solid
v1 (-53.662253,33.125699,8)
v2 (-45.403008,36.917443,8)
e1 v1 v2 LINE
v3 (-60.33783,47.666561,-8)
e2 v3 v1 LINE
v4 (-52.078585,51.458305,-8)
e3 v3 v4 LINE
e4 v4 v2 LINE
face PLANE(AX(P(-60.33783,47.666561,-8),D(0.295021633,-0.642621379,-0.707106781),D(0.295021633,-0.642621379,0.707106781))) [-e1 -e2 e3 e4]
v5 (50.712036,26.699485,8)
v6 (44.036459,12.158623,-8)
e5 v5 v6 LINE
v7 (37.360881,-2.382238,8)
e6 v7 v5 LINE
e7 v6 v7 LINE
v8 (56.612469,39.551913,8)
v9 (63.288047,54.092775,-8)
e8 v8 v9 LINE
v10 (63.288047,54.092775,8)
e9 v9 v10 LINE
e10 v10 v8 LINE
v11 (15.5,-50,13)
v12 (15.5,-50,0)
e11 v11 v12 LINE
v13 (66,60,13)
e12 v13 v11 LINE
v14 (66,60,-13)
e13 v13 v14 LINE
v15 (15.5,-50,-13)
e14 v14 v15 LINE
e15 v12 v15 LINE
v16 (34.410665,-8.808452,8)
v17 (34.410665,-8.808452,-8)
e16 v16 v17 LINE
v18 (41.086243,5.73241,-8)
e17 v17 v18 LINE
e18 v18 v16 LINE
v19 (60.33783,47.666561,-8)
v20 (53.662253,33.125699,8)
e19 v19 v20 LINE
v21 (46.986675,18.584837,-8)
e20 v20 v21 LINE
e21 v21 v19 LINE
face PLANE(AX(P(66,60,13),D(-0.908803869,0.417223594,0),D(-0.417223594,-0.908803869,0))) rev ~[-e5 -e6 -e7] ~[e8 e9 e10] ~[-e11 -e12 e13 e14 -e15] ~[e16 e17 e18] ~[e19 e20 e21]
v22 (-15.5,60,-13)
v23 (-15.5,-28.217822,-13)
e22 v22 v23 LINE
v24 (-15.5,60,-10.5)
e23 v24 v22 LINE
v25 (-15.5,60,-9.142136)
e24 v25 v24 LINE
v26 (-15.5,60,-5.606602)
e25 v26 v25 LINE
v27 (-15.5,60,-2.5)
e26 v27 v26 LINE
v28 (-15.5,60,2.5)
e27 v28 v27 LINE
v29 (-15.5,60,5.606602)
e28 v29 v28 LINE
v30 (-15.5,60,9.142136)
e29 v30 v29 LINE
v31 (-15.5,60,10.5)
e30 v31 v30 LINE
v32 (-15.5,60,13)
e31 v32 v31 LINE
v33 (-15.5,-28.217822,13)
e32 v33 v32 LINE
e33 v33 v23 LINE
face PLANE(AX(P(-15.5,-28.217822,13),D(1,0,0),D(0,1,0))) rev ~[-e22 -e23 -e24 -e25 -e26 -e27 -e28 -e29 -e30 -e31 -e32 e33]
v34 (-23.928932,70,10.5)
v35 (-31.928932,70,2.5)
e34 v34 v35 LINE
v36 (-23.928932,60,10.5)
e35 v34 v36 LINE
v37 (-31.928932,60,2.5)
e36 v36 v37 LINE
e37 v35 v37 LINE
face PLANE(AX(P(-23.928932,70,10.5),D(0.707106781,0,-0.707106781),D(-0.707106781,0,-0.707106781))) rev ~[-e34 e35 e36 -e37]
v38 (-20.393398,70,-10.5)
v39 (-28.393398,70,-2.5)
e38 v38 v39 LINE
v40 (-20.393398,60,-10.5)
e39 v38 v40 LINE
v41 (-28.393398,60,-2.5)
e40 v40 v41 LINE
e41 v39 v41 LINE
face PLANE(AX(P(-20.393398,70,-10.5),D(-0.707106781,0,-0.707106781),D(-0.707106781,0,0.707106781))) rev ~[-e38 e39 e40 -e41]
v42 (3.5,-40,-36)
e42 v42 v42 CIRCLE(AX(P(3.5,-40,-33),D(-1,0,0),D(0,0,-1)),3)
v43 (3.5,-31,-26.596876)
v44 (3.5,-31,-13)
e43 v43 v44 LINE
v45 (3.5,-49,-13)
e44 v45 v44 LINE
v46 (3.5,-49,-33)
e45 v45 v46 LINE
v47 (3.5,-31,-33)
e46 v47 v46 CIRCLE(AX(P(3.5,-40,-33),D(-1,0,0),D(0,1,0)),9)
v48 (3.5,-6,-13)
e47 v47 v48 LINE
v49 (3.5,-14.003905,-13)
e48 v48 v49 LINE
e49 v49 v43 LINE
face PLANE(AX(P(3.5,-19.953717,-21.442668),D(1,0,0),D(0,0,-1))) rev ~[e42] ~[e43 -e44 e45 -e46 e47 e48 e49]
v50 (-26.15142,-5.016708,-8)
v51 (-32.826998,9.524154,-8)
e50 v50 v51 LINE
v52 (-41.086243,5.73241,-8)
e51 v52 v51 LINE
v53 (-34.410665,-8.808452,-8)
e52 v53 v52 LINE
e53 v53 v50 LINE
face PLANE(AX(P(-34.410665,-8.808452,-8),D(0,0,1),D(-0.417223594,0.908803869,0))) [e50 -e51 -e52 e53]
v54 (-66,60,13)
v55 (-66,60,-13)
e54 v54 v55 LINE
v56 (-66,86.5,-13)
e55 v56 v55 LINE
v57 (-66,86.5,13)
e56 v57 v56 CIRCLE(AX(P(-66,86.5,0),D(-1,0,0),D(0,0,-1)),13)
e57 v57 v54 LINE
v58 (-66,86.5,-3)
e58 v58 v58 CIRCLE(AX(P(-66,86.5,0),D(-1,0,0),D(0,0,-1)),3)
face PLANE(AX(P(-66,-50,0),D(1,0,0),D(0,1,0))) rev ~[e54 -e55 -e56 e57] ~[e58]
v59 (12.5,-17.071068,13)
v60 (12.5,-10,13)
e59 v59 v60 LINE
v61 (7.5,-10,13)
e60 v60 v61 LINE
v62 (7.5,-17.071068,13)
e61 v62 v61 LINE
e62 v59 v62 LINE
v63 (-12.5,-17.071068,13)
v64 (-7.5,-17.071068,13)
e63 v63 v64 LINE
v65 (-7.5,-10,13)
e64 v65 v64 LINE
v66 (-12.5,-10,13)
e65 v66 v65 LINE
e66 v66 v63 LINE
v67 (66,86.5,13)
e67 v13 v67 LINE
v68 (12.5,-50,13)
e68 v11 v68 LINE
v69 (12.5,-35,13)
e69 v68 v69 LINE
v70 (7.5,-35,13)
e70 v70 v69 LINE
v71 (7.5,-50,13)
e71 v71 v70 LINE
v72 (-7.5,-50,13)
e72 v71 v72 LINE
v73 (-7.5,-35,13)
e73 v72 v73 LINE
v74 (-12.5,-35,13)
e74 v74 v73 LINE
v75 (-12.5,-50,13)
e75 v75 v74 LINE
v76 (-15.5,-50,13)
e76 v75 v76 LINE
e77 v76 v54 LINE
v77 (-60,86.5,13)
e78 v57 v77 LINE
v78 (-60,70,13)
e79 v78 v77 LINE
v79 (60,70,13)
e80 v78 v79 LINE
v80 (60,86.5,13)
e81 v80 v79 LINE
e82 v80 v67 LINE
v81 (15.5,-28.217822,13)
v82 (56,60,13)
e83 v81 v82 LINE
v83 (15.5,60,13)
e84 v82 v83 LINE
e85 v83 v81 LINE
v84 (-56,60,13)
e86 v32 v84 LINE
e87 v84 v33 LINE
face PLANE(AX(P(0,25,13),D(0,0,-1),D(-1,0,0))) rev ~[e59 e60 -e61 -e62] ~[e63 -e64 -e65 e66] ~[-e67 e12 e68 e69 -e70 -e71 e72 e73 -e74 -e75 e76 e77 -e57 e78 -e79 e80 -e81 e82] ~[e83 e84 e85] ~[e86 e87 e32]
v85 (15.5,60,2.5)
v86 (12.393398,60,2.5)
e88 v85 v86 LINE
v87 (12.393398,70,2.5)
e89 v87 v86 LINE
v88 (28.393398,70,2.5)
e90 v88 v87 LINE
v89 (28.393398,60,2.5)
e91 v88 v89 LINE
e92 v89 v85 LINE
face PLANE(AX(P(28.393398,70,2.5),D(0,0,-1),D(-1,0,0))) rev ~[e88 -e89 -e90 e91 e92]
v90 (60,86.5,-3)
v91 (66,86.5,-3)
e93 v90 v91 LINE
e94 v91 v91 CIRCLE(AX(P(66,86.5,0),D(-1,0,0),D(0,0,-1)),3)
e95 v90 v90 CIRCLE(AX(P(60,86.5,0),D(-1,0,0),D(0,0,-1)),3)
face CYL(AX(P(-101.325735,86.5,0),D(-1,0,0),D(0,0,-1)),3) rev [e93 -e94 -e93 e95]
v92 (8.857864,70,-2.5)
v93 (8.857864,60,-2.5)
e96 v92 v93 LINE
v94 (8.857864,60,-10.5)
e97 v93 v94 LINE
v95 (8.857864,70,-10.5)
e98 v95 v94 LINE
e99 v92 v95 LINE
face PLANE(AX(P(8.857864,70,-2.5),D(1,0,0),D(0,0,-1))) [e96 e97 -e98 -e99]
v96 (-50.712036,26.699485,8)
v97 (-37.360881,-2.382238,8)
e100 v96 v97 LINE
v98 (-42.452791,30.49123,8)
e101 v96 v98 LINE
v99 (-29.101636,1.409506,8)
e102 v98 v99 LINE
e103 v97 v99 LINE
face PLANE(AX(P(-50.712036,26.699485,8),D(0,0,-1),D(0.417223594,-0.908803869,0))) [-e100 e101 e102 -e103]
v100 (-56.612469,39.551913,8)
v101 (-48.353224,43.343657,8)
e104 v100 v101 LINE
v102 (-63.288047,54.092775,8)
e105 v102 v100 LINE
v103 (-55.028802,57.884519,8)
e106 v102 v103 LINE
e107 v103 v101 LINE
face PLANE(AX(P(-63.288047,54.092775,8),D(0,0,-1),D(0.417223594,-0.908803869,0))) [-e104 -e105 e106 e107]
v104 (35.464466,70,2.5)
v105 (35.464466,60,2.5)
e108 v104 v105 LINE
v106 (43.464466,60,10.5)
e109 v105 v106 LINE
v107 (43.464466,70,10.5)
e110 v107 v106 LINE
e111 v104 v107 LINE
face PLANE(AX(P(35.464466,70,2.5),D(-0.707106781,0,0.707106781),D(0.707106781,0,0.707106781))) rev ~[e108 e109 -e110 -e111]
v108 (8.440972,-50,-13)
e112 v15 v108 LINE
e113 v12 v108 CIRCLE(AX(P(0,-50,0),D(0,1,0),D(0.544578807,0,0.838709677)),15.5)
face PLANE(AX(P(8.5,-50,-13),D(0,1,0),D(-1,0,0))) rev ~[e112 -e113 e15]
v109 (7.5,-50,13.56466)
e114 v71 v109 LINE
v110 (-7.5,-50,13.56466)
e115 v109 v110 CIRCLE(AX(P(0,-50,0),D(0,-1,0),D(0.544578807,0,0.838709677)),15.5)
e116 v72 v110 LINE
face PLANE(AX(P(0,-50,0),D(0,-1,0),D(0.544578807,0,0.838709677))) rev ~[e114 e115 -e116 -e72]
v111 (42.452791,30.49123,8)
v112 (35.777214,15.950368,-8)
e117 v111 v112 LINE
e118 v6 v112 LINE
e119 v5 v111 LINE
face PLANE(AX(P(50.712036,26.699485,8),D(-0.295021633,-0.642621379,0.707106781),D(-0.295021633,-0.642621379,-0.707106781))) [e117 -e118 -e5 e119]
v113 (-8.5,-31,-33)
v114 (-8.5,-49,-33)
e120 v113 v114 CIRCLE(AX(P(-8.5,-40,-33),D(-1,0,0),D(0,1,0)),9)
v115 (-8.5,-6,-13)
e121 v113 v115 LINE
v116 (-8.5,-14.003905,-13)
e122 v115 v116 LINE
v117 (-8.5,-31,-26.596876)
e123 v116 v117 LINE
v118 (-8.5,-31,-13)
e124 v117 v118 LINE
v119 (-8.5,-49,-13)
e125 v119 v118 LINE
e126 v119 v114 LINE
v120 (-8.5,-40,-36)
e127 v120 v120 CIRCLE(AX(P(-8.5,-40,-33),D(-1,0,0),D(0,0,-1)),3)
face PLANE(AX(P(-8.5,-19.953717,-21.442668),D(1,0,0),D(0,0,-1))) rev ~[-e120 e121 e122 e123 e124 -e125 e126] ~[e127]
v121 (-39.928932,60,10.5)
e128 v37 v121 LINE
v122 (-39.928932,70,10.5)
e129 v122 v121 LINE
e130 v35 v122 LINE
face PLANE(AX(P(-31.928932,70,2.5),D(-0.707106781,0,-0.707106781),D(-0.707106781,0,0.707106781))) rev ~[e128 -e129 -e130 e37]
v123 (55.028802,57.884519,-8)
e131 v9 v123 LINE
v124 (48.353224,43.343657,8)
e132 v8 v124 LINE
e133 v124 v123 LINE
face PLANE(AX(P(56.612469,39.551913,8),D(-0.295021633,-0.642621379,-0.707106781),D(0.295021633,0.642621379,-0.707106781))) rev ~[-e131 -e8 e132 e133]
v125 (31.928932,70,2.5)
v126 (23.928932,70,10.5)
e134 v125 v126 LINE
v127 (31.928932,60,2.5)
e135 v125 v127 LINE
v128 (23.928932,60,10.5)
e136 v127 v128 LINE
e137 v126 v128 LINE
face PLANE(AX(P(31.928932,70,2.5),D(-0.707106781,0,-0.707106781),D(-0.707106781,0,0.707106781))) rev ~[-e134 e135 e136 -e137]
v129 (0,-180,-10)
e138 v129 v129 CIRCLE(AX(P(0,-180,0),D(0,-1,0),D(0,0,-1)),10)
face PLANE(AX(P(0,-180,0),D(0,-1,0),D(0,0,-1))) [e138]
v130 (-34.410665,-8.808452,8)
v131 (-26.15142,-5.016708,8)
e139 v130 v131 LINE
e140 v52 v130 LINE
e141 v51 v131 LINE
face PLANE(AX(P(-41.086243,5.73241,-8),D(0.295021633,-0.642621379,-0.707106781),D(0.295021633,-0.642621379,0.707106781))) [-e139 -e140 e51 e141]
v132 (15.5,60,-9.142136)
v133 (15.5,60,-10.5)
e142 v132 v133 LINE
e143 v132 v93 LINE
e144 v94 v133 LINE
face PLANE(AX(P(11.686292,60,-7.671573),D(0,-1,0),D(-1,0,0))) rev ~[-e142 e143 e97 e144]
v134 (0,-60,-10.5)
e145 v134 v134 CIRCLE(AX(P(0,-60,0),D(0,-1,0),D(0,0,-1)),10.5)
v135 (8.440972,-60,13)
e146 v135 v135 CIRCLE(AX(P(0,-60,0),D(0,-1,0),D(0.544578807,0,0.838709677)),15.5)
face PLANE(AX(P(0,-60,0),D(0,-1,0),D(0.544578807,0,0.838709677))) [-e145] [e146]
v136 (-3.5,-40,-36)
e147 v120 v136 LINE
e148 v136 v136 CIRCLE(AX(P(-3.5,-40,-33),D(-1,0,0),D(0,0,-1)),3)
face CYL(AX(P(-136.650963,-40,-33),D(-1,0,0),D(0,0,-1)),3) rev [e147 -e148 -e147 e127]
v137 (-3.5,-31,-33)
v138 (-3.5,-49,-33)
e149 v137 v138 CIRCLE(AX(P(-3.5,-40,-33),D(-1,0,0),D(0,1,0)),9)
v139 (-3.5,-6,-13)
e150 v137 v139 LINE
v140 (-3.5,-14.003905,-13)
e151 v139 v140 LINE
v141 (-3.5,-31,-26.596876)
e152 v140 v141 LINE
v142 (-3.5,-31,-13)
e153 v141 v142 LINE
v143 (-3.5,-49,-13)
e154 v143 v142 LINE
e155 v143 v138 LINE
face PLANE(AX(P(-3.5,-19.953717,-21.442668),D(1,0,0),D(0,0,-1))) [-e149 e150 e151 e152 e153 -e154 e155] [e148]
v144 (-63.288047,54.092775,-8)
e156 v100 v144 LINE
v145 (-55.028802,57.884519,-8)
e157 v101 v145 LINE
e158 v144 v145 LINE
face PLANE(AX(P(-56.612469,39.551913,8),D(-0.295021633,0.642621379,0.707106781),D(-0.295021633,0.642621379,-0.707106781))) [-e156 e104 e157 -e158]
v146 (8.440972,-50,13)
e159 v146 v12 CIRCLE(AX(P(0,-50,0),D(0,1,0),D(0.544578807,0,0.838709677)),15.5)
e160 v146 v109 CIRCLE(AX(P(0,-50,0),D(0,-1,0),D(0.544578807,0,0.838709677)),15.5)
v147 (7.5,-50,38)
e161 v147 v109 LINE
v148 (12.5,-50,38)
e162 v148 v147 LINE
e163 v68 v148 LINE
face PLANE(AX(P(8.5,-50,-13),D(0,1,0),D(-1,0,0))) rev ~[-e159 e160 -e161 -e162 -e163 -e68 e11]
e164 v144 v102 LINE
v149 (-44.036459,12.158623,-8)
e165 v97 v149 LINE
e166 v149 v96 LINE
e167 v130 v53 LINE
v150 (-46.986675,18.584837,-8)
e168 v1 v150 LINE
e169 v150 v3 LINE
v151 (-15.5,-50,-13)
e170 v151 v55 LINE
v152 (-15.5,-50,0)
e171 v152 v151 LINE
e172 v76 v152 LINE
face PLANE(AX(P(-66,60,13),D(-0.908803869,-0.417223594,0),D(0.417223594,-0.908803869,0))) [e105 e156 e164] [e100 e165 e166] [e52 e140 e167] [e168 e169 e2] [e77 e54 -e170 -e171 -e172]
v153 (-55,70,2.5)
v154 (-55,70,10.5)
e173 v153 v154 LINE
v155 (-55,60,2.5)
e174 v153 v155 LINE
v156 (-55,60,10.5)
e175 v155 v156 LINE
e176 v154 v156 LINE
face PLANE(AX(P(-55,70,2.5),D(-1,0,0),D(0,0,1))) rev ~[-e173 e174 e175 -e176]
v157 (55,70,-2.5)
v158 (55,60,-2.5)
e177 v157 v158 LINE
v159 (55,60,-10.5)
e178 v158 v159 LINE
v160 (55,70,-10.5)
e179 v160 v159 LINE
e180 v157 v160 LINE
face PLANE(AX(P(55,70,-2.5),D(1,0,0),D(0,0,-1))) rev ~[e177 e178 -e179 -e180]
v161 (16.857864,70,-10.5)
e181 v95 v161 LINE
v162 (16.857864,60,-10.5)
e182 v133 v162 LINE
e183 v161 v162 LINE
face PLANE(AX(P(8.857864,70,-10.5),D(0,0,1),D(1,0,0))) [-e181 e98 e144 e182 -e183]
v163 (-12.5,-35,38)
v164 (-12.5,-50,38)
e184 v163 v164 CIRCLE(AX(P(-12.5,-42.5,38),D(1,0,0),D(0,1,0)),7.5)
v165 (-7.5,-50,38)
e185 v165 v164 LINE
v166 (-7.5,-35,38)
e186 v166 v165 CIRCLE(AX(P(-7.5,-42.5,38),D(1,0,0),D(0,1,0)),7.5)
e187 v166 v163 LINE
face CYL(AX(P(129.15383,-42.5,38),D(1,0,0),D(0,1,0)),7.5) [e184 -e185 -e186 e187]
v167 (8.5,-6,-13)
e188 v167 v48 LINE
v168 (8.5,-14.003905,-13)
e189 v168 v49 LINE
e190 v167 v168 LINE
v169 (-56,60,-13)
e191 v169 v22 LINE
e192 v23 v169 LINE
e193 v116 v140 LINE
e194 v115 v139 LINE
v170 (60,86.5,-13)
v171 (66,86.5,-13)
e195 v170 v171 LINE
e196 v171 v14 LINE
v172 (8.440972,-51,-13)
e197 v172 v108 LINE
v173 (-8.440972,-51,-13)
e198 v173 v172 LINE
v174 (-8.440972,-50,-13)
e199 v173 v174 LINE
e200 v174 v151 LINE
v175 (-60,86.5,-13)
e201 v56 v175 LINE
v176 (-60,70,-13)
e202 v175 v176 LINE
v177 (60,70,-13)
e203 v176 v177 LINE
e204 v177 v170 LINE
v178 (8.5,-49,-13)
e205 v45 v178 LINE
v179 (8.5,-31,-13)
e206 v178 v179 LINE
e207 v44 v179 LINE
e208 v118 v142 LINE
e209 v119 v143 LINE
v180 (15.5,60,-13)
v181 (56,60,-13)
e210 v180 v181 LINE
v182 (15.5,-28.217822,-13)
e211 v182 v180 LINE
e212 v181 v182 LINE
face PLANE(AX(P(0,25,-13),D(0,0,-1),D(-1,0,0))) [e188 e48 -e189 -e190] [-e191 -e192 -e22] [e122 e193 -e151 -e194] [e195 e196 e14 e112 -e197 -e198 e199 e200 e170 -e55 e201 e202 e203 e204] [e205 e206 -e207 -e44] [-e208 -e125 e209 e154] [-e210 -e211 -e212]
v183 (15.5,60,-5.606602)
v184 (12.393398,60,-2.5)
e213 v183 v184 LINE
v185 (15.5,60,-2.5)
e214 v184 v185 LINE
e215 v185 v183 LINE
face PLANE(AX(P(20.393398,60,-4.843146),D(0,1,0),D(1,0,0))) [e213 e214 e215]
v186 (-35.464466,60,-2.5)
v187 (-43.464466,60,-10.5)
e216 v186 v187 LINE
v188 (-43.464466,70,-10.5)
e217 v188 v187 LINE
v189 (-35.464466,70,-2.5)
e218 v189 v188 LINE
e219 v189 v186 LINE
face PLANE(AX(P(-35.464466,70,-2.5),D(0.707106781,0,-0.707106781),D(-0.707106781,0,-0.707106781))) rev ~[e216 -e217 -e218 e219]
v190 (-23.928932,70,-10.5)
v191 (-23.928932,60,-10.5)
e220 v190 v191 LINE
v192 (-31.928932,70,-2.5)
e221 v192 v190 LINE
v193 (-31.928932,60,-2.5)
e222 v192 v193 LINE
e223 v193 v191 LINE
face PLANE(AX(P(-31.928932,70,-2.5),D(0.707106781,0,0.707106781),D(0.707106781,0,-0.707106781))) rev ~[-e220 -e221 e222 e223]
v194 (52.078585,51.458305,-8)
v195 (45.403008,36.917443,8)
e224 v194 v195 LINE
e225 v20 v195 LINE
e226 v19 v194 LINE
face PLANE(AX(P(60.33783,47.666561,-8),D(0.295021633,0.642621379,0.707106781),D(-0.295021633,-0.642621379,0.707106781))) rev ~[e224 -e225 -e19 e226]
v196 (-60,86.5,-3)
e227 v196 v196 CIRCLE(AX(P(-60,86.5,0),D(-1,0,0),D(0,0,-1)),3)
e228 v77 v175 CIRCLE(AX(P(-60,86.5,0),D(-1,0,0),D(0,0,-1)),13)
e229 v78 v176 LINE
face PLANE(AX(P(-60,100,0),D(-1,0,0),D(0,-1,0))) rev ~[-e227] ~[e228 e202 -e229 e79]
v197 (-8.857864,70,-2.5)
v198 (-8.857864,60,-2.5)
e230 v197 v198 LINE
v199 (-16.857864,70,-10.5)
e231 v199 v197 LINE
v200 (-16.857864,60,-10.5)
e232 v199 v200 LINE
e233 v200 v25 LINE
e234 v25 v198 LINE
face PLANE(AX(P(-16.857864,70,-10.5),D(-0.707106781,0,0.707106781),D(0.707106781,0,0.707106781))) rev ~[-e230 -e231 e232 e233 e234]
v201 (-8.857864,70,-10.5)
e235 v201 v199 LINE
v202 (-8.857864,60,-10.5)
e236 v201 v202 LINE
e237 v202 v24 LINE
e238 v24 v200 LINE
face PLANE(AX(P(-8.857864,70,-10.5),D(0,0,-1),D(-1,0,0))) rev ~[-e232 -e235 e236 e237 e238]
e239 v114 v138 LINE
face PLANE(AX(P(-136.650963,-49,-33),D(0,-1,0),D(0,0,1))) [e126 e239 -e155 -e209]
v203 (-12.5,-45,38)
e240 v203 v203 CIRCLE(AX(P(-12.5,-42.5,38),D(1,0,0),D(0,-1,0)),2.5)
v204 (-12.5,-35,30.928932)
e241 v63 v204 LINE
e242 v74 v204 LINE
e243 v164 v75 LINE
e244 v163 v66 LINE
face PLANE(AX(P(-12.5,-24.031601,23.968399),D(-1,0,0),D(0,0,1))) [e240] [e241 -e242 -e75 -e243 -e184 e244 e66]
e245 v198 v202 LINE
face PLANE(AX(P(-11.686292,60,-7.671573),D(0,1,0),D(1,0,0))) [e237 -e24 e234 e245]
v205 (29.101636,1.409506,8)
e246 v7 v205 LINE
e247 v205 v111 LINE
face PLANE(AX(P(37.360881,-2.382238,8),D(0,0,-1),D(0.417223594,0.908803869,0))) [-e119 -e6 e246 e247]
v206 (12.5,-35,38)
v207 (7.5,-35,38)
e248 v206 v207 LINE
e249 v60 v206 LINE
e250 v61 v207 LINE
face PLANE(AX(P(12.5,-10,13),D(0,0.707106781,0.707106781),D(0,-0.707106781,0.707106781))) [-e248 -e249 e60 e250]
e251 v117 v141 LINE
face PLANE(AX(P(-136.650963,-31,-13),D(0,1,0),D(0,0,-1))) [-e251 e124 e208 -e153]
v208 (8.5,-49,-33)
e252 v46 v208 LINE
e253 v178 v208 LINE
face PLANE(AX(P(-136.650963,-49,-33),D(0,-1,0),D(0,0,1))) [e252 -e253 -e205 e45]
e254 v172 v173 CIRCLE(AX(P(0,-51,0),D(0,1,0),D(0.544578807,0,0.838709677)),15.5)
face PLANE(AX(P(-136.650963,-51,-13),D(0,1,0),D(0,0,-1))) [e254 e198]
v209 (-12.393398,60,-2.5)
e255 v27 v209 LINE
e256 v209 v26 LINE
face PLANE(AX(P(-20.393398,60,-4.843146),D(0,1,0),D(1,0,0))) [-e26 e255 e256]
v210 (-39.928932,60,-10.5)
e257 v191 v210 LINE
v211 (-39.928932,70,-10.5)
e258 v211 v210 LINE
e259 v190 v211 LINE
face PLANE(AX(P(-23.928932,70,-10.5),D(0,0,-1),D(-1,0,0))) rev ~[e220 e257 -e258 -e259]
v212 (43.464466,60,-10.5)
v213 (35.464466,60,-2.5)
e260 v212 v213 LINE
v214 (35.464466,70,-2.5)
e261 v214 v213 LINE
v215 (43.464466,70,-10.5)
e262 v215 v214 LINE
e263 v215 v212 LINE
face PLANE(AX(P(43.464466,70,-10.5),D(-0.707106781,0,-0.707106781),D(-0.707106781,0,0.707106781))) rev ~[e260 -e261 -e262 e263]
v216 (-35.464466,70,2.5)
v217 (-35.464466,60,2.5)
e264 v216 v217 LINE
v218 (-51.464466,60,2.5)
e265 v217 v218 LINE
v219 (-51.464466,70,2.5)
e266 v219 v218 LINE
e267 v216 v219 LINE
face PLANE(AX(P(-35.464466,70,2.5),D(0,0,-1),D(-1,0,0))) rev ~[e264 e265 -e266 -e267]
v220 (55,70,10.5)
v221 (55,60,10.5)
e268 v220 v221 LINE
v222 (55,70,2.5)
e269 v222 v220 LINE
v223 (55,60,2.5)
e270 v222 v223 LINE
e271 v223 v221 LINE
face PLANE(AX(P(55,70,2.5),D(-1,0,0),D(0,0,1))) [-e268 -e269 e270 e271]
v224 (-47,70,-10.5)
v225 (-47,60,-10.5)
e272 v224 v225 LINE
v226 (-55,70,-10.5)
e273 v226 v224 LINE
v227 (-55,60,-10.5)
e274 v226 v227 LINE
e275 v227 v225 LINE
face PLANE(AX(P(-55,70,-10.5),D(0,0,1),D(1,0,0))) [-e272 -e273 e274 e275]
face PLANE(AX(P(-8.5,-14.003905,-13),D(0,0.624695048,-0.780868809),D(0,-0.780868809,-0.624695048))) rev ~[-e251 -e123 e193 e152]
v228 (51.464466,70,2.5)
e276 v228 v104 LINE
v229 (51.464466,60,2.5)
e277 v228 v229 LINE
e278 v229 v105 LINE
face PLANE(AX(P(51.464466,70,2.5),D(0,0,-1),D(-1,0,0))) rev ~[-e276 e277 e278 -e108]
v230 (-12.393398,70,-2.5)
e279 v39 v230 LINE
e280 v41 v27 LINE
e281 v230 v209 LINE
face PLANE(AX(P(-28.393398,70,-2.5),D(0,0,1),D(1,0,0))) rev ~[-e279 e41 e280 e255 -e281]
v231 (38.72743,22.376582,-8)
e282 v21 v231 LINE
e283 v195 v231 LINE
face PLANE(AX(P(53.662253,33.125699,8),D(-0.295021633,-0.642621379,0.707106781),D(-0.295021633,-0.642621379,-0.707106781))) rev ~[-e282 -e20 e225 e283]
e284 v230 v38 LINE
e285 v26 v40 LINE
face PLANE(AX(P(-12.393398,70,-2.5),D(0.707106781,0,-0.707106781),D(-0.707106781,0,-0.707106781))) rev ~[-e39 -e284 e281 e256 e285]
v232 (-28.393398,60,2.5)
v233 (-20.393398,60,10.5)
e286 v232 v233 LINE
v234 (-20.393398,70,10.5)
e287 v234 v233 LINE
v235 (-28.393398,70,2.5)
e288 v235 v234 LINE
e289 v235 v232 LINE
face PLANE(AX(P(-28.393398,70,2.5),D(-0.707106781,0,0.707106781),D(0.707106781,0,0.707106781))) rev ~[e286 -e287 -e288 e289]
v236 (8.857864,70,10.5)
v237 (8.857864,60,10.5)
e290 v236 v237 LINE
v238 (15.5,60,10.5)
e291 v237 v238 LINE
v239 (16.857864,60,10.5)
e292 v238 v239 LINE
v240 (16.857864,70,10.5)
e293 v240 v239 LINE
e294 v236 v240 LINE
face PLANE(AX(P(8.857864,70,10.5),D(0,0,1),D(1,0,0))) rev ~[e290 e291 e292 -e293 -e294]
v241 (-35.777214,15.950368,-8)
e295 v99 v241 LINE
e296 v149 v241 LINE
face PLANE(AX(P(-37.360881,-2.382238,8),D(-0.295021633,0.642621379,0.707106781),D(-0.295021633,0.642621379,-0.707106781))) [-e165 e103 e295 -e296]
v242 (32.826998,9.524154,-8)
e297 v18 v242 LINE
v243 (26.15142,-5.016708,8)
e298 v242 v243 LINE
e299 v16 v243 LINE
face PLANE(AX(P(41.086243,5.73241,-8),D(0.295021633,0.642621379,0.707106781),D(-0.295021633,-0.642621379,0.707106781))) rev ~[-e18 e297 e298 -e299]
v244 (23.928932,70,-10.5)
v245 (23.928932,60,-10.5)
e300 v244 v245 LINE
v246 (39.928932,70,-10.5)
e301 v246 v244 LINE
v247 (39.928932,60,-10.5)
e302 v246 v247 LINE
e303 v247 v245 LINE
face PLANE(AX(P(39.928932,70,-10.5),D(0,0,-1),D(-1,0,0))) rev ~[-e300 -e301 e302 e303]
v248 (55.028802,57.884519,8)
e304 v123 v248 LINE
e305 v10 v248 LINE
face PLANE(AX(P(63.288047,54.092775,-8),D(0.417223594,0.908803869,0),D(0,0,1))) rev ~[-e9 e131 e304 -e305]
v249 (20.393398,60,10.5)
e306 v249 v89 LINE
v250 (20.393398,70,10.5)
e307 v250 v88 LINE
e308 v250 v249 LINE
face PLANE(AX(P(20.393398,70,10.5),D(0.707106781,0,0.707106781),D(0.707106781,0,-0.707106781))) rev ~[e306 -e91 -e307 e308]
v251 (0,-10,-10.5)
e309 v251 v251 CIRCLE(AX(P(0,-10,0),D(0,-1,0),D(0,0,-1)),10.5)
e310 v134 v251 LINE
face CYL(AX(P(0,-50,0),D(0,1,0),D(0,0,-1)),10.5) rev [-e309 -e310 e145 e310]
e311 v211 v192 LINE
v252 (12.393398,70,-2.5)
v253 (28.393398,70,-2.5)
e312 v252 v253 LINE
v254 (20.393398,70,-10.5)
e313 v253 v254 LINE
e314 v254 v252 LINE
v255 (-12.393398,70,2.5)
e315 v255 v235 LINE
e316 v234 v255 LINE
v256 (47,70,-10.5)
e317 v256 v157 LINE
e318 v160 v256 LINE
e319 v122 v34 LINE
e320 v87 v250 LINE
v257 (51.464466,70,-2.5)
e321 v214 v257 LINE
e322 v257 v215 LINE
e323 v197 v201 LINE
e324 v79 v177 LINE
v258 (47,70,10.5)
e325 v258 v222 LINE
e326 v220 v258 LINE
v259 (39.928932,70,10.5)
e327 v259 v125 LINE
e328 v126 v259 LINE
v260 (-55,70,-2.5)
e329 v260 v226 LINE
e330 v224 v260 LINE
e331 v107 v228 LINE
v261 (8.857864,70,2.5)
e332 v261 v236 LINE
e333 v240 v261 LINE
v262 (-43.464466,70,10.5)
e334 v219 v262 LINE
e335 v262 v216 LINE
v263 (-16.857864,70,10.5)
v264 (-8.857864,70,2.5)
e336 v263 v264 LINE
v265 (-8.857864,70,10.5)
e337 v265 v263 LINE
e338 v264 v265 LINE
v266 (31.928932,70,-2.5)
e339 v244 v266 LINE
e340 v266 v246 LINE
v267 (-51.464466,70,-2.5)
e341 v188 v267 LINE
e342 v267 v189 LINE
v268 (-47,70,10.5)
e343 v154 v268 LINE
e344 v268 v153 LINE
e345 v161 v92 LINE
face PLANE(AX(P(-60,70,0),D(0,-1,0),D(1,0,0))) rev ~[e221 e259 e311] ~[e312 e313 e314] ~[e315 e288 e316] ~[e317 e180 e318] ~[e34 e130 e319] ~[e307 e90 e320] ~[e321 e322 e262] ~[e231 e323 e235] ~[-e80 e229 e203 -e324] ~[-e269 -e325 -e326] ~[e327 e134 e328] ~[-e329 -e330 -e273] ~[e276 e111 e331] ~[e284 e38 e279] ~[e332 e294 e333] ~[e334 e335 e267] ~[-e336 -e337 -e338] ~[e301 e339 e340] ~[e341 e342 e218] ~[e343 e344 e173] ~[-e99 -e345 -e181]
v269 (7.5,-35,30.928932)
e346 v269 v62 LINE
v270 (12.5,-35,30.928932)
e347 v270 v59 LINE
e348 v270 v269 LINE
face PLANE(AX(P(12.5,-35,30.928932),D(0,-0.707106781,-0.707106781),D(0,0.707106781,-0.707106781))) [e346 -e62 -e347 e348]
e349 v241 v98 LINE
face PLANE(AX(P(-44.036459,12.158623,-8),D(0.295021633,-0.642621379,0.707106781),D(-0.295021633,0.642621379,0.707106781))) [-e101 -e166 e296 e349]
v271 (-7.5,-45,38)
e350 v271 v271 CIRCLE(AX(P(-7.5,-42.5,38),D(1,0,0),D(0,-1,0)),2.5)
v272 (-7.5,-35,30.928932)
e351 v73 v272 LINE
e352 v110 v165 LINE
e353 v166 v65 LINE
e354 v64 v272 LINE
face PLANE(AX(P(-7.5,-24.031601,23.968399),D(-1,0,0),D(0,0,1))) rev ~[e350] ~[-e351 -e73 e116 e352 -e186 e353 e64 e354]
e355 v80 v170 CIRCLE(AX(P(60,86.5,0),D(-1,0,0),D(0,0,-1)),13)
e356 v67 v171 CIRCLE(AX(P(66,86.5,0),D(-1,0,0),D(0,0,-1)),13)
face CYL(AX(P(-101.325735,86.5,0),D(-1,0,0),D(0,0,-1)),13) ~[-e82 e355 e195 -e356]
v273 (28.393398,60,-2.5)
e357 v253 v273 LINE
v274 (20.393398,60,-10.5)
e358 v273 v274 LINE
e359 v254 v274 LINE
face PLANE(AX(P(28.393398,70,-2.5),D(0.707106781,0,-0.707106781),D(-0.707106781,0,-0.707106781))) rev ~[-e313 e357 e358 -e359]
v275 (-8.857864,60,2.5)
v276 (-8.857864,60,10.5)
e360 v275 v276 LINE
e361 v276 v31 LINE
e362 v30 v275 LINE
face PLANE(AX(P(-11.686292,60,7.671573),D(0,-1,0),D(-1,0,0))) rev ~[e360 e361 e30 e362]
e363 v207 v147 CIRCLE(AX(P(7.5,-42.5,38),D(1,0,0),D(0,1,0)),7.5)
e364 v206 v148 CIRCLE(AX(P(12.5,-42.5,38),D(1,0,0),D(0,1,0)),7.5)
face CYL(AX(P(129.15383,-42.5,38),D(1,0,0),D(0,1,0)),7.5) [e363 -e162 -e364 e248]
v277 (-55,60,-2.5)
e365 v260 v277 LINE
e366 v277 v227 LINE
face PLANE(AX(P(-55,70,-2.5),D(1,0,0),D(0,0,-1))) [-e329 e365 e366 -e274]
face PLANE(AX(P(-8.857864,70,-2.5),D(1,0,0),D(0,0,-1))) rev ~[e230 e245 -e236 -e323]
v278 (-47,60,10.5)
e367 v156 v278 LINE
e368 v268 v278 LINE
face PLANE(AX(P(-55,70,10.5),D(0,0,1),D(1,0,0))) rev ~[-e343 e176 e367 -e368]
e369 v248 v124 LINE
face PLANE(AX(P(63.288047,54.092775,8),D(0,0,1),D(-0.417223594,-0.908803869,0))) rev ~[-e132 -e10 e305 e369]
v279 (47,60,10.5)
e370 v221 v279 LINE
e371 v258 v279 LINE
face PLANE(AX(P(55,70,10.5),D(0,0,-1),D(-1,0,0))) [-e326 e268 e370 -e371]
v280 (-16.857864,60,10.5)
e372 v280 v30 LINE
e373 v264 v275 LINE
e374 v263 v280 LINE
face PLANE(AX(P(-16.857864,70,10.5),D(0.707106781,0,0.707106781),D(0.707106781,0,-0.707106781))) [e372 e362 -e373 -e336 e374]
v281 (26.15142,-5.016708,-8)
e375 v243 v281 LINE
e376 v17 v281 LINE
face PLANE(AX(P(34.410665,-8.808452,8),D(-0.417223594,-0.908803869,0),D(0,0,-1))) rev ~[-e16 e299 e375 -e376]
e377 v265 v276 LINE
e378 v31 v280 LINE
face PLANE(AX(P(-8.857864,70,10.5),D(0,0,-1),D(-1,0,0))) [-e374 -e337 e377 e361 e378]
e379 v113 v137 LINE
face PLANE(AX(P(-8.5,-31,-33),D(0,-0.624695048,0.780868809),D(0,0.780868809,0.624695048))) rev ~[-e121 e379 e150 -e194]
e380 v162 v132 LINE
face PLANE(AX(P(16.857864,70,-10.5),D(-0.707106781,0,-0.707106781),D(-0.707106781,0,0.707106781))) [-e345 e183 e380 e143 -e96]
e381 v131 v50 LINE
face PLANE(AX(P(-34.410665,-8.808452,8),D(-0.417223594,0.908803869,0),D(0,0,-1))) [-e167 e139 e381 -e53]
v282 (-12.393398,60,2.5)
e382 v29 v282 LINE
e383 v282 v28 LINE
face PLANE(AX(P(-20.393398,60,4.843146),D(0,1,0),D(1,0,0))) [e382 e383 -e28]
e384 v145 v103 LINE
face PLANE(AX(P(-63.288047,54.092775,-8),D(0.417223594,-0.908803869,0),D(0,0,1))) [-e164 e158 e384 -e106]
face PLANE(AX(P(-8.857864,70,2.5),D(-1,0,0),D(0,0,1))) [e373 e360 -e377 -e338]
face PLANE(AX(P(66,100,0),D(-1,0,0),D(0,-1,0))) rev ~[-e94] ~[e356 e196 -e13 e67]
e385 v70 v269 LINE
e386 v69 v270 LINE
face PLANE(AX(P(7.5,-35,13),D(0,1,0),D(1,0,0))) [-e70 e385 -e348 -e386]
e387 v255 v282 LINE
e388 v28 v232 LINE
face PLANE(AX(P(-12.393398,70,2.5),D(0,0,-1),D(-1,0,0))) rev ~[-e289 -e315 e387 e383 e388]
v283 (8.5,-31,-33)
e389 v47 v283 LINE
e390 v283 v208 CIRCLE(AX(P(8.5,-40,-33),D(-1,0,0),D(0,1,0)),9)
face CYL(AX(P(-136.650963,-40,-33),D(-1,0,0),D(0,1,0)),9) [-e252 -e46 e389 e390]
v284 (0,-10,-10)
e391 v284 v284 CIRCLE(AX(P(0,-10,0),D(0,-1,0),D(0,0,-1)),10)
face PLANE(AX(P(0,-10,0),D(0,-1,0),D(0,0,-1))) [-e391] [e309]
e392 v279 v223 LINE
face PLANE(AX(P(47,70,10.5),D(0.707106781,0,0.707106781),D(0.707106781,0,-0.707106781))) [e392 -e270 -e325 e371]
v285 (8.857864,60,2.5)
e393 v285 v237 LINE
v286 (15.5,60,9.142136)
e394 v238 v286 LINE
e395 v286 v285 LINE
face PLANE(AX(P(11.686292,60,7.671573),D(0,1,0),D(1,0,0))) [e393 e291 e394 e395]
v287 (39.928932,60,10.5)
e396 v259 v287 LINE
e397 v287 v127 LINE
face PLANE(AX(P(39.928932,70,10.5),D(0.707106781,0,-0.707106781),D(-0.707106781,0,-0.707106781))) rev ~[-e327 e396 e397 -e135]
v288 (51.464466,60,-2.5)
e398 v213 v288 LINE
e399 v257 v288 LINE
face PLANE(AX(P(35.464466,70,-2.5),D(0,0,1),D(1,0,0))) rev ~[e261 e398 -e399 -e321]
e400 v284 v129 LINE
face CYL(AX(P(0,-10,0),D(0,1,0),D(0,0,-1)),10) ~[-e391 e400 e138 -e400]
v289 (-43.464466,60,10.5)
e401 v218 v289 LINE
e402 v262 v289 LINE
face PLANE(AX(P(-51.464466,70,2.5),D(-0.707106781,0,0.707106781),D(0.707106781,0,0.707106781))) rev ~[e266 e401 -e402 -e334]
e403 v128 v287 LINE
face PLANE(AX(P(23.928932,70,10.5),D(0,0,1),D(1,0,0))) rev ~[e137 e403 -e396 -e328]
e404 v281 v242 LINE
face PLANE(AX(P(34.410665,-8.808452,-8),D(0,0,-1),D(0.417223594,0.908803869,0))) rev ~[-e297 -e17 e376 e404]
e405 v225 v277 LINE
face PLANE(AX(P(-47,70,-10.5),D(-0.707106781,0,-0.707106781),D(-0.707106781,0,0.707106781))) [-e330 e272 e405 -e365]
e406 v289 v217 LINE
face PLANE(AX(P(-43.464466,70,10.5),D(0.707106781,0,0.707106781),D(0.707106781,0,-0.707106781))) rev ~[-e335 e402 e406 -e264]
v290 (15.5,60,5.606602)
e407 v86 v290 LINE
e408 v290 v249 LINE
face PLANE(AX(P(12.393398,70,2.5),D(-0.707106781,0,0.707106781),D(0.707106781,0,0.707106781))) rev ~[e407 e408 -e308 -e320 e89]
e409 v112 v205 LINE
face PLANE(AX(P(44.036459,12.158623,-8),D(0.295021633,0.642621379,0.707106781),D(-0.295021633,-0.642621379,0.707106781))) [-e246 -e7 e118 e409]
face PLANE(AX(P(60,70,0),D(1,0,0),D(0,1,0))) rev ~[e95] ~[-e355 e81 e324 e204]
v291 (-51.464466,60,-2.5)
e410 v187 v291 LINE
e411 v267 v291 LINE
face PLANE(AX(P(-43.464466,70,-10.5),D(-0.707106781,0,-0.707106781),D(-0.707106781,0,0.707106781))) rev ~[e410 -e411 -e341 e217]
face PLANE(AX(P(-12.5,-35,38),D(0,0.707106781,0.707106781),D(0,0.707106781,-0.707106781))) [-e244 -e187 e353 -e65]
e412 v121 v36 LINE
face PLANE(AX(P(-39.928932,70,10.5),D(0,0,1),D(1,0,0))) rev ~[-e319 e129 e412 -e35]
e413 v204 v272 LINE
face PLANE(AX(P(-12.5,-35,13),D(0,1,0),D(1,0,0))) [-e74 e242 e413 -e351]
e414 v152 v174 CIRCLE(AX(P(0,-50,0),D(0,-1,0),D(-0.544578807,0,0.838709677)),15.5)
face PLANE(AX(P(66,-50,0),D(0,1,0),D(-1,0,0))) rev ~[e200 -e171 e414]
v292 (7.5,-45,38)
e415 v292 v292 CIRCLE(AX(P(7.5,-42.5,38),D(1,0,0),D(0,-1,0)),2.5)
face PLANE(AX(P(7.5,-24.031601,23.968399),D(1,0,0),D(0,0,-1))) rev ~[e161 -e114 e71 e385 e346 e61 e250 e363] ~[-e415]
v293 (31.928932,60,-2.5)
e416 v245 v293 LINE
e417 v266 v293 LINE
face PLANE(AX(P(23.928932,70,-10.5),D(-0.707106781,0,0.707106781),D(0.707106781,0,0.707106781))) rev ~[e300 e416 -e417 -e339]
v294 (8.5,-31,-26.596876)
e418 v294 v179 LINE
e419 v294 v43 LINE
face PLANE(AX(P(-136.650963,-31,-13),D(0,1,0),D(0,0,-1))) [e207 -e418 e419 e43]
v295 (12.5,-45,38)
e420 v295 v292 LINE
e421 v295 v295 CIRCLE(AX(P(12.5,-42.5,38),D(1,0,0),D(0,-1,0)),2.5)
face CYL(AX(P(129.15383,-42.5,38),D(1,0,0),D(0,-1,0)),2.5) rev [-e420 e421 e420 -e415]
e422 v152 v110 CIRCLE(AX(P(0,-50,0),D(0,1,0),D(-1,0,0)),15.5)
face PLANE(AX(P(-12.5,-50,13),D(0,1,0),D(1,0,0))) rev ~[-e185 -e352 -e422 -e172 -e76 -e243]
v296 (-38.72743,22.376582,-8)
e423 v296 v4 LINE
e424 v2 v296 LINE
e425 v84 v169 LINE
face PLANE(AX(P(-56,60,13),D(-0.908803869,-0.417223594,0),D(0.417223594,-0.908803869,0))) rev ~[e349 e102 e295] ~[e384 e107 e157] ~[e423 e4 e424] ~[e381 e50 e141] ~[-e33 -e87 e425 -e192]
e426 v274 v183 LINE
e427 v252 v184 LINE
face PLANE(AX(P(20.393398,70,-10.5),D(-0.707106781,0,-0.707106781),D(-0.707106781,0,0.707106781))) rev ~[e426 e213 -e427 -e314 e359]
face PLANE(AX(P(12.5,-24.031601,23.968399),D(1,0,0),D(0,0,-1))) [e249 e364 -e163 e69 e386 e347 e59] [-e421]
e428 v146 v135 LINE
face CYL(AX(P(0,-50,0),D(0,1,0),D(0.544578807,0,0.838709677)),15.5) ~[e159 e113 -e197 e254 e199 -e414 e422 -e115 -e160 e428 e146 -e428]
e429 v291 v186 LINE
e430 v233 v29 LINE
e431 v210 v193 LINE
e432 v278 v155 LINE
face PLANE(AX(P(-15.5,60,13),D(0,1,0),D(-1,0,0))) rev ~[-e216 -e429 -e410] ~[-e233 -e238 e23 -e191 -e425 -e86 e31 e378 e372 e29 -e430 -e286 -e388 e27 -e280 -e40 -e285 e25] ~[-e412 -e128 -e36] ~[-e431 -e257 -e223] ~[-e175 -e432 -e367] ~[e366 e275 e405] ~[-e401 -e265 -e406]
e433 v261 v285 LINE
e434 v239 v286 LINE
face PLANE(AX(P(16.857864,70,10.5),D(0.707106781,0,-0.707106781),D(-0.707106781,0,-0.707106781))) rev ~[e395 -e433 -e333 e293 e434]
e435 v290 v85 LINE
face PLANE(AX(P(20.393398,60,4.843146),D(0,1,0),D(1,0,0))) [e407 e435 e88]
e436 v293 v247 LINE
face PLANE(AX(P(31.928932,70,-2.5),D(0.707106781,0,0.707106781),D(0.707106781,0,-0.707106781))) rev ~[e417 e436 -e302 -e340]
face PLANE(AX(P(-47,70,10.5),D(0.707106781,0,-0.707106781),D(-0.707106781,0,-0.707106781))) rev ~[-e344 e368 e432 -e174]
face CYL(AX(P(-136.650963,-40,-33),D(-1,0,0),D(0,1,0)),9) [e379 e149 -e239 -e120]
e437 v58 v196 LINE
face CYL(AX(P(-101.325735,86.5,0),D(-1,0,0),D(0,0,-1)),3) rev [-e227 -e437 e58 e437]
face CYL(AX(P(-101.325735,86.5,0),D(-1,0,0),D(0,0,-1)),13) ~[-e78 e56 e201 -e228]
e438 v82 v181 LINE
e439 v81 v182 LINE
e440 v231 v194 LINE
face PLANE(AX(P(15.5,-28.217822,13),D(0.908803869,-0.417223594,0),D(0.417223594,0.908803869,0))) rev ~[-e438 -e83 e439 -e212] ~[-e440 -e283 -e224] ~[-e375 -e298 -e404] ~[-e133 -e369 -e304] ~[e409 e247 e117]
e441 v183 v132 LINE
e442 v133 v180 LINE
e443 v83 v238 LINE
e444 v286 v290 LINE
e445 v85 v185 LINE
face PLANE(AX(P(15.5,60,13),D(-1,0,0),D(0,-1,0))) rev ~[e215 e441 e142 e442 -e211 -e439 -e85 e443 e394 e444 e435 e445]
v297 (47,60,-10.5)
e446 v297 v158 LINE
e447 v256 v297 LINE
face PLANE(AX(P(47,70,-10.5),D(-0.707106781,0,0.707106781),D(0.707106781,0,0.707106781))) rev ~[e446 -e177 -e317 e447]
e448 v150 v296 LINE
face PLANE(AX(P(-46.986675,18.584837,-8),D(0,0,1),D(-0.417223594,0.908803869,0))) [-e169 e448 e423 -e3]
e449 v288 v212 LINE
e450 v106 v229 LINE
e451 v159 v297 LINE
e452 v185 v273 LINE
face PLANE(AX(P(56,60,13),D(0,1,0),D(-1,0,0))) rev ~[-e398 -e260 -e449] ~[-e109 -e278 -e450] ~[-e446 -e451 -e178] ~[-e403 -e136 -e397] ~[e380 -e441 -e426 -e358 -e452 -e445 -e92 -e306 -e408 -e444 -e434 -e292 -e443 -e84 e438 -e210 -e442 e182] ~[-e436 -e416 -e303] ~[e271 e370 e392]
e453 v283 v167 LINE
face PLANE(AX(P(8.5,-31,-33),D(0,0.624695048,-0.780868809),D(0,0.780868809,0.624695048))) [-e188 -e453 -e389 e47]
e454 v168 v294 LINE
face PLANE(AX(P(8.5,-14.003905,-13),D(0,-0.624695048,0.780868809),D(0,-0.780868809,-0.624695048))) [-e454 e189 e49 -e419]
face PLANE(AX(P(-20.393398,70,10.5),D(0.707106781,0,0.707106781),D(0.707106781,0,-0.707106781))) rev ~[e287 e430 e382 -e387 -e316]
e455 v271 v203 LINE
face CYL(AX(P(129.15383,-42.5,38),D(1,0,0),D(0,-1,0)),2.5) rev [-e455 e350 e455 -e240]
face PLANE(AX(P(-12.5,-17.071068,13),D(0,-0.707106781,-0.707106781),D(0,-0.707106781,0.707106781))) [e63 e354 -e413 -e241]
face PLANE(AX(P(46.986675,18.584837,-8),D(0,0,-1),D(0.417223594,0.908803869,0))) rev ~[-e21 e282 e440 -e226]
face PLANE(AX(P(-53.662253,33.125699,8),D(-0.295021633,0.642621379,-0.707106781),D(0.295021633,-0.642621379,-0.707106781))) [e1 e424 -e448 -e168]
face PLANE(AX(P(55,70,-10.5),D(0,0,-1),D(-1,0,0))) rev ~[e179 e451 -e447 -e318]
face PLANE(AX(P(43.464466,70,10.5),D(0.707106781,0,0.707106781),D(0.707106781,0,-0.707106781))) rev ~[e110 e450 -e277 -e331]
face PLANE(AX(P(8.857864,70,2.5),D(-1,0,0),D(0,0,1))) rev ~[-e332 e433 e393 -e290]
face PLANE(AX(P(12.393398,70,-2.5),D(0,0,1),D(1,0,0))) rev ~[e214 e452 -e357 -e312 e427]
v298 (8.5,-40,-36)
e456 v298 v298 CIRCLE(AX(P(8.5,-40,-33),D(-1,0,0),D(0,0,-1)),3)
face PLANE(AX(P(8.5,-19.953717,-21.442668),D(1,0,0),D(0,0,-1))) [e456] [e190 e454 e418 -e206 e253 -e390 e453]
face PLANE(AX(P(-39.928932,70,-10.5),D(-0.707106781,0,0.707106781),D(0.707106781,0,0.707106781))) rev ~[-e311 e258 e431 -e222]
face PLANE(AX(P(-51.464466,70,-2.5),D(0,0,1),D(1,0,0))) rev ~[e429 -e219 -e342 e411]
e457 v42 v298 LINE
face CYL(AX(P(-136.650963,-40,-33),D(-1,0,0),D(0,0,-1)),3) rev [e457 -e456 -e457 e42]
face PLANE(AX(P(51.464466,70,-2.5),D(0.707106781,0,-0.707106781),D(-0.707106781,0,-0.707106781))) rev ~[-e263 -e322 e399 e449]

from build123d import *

# Parameters (mm, degrees)
TYKKELSE_LEDDFESTER_OG_BREDDE_H_YDE_SELV_DEPTH = 13
SKETCH28_R                                     = 15.5
SKETCH28_R_2                                   = 10.5
HULL_TIL_L_RBEN_KARBONFIBERR_R_DEPTH           = 10
SKRUEHULL_LEDDFESTER_DEPTH                     = 167.325734629
SKRUEHULL_LEDDFESTER_DEPTH_BACK                = 167.325734629
SKETCH29_R                                     = 3
SKETCH33_W                                     = 5
SKETCH33_H                                     = 20
BREDDE_OG_AVSTAND_STEMPELENDE_DEPTH            = 60
CUT_EXTRUDE4_DEPTH                             = 148.147035308
SIDEM_NSTER_DEPTH                              = 9.088039
SIDEM_NSTER_2_DEPTH                            = 9.088039
UTVIDET_START                                  = -40
SKETCH44_R                                     = 10.5
UTVIDET_L_RBENHULL_INN_I_SELVE_KROPPEN_DEPTH   = 40
M_NSTER_TOPP_DEPTH                             = 10
STEMPELENDE_AV_ST_RSTE_SYLINDER_DEPTH          = 145.150962536
STEMPELENDE_AV_ST_RSTE_SYLINDER_DEPTH_BACK     = 145.150962536
ROD_ENDE_JUSTERE_LENGDEN_ALTS_FESTE_T_R        = 3
SKETCH39_W                                     = 5
SKETCH39_H                                     = 15
SYLINDERFESTE_SELVE_DEN_LILLE_SYLINDERE_DEPTH  = 48
ST_TTER_ST_RSTE_SYLINDER_1_DEPTH               = 5
ST_TTER_ST_RSTE_SYLINDER_2_DEPTH               = 5
SYLINDERFESTE_LITEN_SYLINDER_DEPTH             = 141.653830378
SYLINDERFESTE_LITEN_SYLINDER_DEPTH_BACK        = 141.653830378
SKETCH48_R                                     = 2.5
BOSS_EXTRUDE11_DEPTH                           = 5
BOSS_EXTRUDE12_DEPTH                           = 5
SKETCH51_R                                     = 10
TIL_ASSEMBLY_SLETT_F_R_PRINTING_DEPTH          = 170


with BuildPart() as part:
    # Sketch27 → Tykkelse leddfester og bredde/høyde selve modellen (new, symmetric)
    with BuildSketch(Plane.XY):
        Polygon((66, -50), (-66, -50), (-66, 100), (-60, 100), (-60, 70), (60, 70), (60, 100), (66, 100), align=None)
    extrude(amount=TYKKELSE_LEDDFESTER_OG_BREDDE_H_YDE_SELV_DEPTH, both=True)

    # Sketch28 → Hull til lårben/karbonfiberrør (add)
    with BuildSketch(Plane.XZ.offset(50)):
        with Locations(Location((0, 0, 0), (0, 0, 57.004114526))):
            Circle(SKETCH28_R)
        with Locations(Location((0, 0, 0), (0, 0, 270))):
            Circle(SKETCH28_R_2, mode=Mode.SUBTRACT)
    extrude(amount=HULL_TIL_L_RBEN_KARBONFIBERR_R_DEPTH)

    # Sketch29 → Skruehull leddfester (cut, two sides: drawn at the far end of the back side and taken through both)
    with BuildSketch(Plane(origin=(66, 0, 0), x_dir=(0, 0, -1), z_dir=(1, 0, 0)).offset(-SKRUEHULL_LEDDFESTER_DEPTH_BACK)):
        with Locations((0, 86.5)):
            Circle(SKETCH29_R)
        with BuildLine():
            Line((-13, 86.5), (-13, 71.5))
            Line((-13, 71.5), (-14, 71.5))
            Line((-14, 71.5), (-14, 101))
            Line((-14, 101), (0, 101))
            Line((0, 101), (14, 101))
            Line((14, 101), (14, 71.5))
            Line((14, 71.5), (13, 71.5))
            Line((13, 71.5), (13, 86.5))
            ThreePointArc((13, 86.5), (0, 99.5), (-13, 86.5))
        make_face()
    extrude(amount=SKRUEHULL_LEDDFESTER_DEPTH + SKRUEHULL_LEDDFESTER_DEPTH_BACK, mode=Mode.SUBTRACT)

    # Sketch33 → Bredde og avstand stempelende (add)
    with BuildSketch(Plane(origin=(0, 0, -13), x_dir=(-1, 0, 0), z_dir=(0, 0, -1))):
        with Locations((-6, -40)):
            Rectangle(SKETCH33_W, SKETCH33_H)
        with Locations((6, -40)):
            Rectangle(SKETCH33_W, SKETCH33_H)
    extrude(amount=BREDDE_OG_AVSTAND_STEMPELENDE_DEPTH)

    # Fasong (mønster på selve kroppen) → Cut-Extrude4 (cut, through all)
    with BuildSketch(Plane.XY.offset(13)):
        Polygon((-66, 60), (-15.5, -50), (-66, -50), align=None)
        Polygon((15.5, -50), (66, -50), (66, 60), align=None)
        Polygon((-56, 60), (-15.5, -28.217821782), (-15.5, 60), align=None)
        Polygon((56, 60), (15.5, 60), (15.5, -28.217821782), align=None)
    extrude(amount=-CUT_EXTRUDE4_DEPTH, mode=Mode.SUBTRACT)

    # Sketch40 → Sidemønster (cut)
    with BuildSketch(Plane(origin=(-31.760550161, -14.580979847, 0), x_dir=(0, 0, 1), z_dir=(-0.9088038689830882, -0.41722359439678147, 0))):
        Polygon((-8, 75.564989369), (8, 75.564989369), (8, 59.564989369), align=None)
        Polygon((-8, 68.493921557), (8, 52.493921557), (-8, 36.493921557), align=None)
        Polygon((8, 13.422853745), (-8, 29.422853745), (8, 45.422853745), align=None)
        Polygon((-8, 22.351785934), (8, 6.351785934), (-8, 6.351785934), align=None)
    extrude(amount=-SIDEM_NSTER_DEPTH, mode=Mode.SUBTRACT)

    # Sketch42 → Sidemønster 2 (cut)
    with BuildSketch(Plane(origin=(31.760550161, -14.580979847, 0), x_dir=(0, 0, -1), z_dir=(0.9088038689830882, -0.41722359439678147, 0))):
        Polygon((8, 75.564989369), (-8, 75.564989369), (-8, 59.564989369), align=None)
        Polygon((8, 68.493921557), (-8, 52.493921557), (8, 36.493921557), align=None)
        Polygon((-8, 45.422853745), (8, 29.422853745), (-8, 13.422853745), align=None)
        Polygon((8, 22.351785934), (-8, 6.351785934), (8, 6.351785934), align=None)
    extrude(amount=-SIDEM_NSTER_2_DEPTH, mode=Mode.SUBTRACT)

    # Sketch44 → Utvidet lårbenhull inn i selve kroppen (cut)
    with BuildSketch(Plane.XZ.offset(50).offset(UTVIDET_START)):
        with Locations(Location((0, 0, 0), (0, 0, 270))):
            Circle(SKETCH44_R)
    extrude(amount=UTVIDET_L_RBENHULL_INN_I_SELVE_KROPPEN_DEPTH, mode=Mode.SUBTRACT)

    # Sketch45 → Mønster topp (cut)
    with BuildSketch(Plane(origin=(0, 70, 0), x_dir=(1, 0, 0), z_dir=(0, 1, 0))):
        Polygon((-39.928932188, 10.5), (-31.928932188, 2.5), (-23.928932188, 10.5), align=None)
        Polygon((-16.857864376, 10.5), (-8.857864376, 2.5), (-8.857864376, 10.5), align=None)
        Polygon((-55, 2.5), (-55, 10.5), (-47, 10.5), align=None)
        Polygon((-43.464466094, 10.5), (-51.464466094, 2.5), (-35.464466094, 2.5), align=None)
        Polygon((-20.393398282, 10.5), (-28.393398282, 2.5), (-12.393398282, 2.5), align=None)
        Polygon((-8.857864376, -2.5), (-8.857864376, -10.5), (-16.857864376, -10.5), align=None)
        Polygon((-20.393398282, -10.5), (-12.393398282, -2.5), (-28.393398282, -2.5), align=None)
        Polygon((-23.928932188, -10.5), (-31.928932188, -2.5), (-39.928932188, -10.5), align=None)
        Polygon((-43.464466094, -10.5), (-35.464466094, -2.5), (-51.464466094, -2.5), align=None)
        Polygon((-55, -10.5), (-47, -10.5), (-55, -2.5), align=None)
        Polygon((8.857864376, 2.5), (8.857864376, 10.5), (16.857864376, 10.5), align=None)
        Polygon((16.857864376, -10.5), (8.857864376, -2.5), (8.857864376, -10.5), align=None)
        Polygon((20.393398282, -10.5), (28.393398282, -2.5), (12.393398282, -2.5), align=None)
        Polygon((20.393398282, 10.5), (12.393398282, 2.5), (28.393398282, 2.5), align=None)
        Polygon((23.928932188, 10.5), (31.928932188, 2.5), (39.928932188, 10.5), align=None)
        Polygon((23.928932188, -10.5), (39.928932188, -10.5), (31.928932188, -2.5), align=None)
        Polygon((43.464466094, -10.5), (51.464466094, -2.5), (35.464466094, -2.5), align=None)
        Polygon((55, -2.5), (55, -10.5), (47, -10.5), align=None)
        Polygon((43.464466094, 10.5), (35.464466094, 2.5), (51.464466094, 2.5), align=None)
        Polygon((55, 10.5), (47, 10.5), (55, 2.5), align=None)
    extrude(amount=-M_NSTER_TOPP_DEPTH, mode=Mode.SUBTRACT)

    # Rod-ende, justere lengden (altså feste til største sylinder) → Stempelende av st_rste sylinder (cut, two sides: drawn at the far end of the back side and taken through both)
    with BuildSketch(Plane(origin=(8.5, 0, 0), x_dir=(0, 0, -1), z_dir=(1, 0, 0)).offset(-STEMPELENDE_AV_ST_RSTE_SYLINDER_DEPTH_BACK)):
        with Locations((33, -40)):
            Circle(ROD_ENDE_JUSTERE_LENGDEN_ALTS_FESTE_T_R)
        with BuildLine():
            Line((43, -51), (74, -51))
            Line((74, -51), (74, -29))
            Line((74, -29), (43, -29))
            Line((43, -29), (13, -29))
            Line((13, -29), (13, -31))
            Line((13, -31), (33, -31))
            ThreePointArc((33, -31), (42, -40), (33, -49))
            Line((33, -49), (13, -49))
            Line((13, -49), (13, -51))
            Line((13, -51), (43, -51))
        make_face()
    extrude(amount=STEMPELENDE_AV_ST_RSTE_SYLINDER_DEPTH + STEMPELENDE_AV_ST_RSTE_SYLINDER_DEPTH_BACK, mode=Mode.SUBTRACT)

    # Sketch39 → Sylinderfeste_ selve den lille sylindere (add)
    with BuildSketch(Plane.XY.offset(13)):
        with Locations((-10, -42.5)):
            Rectangle(SKETCH39_W, SKETCH39_H)
        with Locations((10, -42.5)):
            Rectangle(SKETCH39_W, SKETCH39_H)
    extrude(amount=SYLINDERFESTE_SELVE_DEN_LILLE_SYLINDERE_DEPTH)

    # Sketch46 → Støtter største sylinder 1 (add)
    with BuildSketch(Plane(origin=(8.5, 0, 0), x_dir=(0, 0, -1), z_dir=(1, 0, 0))):
        Polygon((13, -6), (13, -14.003905297), (26.596875763, -31), (33, -31), align=None)
    extrude(amount=-ST_TTER_ST_RSTE_SYLINDER_1_DEPTH)

    # Sketch47 → Støtter største sylinder 2 (add)
    with BuildSketch(Plane.ZY.offset(8.5)):
        Polygon((-33, -31), (-13, -6), (-13, -14.003905297), (-26.596875763, -31), align=None)
    extrude(amount=-ST_TTER_ST_RSTE_SYLINDER_2_DEPTH)

    # Sketch48 → Sylinderfeste, liten sylinder (cut, two sides: drawn at the far end of the back side and taken through both)
    with BuildSketch(Plane.ZY.offset(12.5).offset(-SYLINDERFESTE_LITEN_SYLINDER_DEPTH_BACK)):
        with Locations(Location((38, -42.5, 0), (0, 0, 270))):
            Circle(SKETCH48_R)
        with BuildLine():
            Line((38, -50), (23.179811187, -50))
            Line((23.179811187, -50), (23.179811187, -51))
            Line((23.179811187, -51), (62, -51))
            Line((62, -51), (62, -34))
            Line((62, -34), (13, -34))
            Line((13, -34), (13, -35))
            Line((13, -35), (38, -35))
            ThreePointArc((38, -35), (45.5, -42.5), (38, -50))
        make_face()
    extrude(amount=SYLINDERFESTE_LITEN_SYLINDER_DEPTH + SYLINDERFESTE_LITEN_SYLINDER_DEPTH_BACK, mode=Mode.SUBTRACT)

    # Sketch49 → Boss-Extrude11 (add)
    with BuildSketch(Plane.ZY.offset(12.5)):
        Polygon((38, -35), (13, -10), (13, -17.071067812), (30.928932188, -35), align=None)
    extrude(amount=-BOSS_EXTRUDE11_DEPTH)

    # Sketch50 → Boss-Extrude12 (add)
    with BuildSketch(Plane(origin=(12.5, 0, 0), x_dir=(0, 0, -1), z_dir=(1, 0, 0))):
        Polygon((-38, -35), (-30.928932188, -35), (-13, -17.071067812), (-13, -10), align=None)
    extrude(amount=-BOSS_EXTRUDE12_DEPTH)

    # Sketch51 → TIL ASSEMBLY - SLETT FØR PRINTING (add)
    with BuildSketch(Plane.XZ.offset(10)):
        with Locations(Location((0, 0, 0), (0, 0, 270))):
            Circle(SKETCH51_R)
    extrude(amount=TIL_ASSEMBLY_SLETT_F_R_PRINTING_DEPTH)


solid = part.part
